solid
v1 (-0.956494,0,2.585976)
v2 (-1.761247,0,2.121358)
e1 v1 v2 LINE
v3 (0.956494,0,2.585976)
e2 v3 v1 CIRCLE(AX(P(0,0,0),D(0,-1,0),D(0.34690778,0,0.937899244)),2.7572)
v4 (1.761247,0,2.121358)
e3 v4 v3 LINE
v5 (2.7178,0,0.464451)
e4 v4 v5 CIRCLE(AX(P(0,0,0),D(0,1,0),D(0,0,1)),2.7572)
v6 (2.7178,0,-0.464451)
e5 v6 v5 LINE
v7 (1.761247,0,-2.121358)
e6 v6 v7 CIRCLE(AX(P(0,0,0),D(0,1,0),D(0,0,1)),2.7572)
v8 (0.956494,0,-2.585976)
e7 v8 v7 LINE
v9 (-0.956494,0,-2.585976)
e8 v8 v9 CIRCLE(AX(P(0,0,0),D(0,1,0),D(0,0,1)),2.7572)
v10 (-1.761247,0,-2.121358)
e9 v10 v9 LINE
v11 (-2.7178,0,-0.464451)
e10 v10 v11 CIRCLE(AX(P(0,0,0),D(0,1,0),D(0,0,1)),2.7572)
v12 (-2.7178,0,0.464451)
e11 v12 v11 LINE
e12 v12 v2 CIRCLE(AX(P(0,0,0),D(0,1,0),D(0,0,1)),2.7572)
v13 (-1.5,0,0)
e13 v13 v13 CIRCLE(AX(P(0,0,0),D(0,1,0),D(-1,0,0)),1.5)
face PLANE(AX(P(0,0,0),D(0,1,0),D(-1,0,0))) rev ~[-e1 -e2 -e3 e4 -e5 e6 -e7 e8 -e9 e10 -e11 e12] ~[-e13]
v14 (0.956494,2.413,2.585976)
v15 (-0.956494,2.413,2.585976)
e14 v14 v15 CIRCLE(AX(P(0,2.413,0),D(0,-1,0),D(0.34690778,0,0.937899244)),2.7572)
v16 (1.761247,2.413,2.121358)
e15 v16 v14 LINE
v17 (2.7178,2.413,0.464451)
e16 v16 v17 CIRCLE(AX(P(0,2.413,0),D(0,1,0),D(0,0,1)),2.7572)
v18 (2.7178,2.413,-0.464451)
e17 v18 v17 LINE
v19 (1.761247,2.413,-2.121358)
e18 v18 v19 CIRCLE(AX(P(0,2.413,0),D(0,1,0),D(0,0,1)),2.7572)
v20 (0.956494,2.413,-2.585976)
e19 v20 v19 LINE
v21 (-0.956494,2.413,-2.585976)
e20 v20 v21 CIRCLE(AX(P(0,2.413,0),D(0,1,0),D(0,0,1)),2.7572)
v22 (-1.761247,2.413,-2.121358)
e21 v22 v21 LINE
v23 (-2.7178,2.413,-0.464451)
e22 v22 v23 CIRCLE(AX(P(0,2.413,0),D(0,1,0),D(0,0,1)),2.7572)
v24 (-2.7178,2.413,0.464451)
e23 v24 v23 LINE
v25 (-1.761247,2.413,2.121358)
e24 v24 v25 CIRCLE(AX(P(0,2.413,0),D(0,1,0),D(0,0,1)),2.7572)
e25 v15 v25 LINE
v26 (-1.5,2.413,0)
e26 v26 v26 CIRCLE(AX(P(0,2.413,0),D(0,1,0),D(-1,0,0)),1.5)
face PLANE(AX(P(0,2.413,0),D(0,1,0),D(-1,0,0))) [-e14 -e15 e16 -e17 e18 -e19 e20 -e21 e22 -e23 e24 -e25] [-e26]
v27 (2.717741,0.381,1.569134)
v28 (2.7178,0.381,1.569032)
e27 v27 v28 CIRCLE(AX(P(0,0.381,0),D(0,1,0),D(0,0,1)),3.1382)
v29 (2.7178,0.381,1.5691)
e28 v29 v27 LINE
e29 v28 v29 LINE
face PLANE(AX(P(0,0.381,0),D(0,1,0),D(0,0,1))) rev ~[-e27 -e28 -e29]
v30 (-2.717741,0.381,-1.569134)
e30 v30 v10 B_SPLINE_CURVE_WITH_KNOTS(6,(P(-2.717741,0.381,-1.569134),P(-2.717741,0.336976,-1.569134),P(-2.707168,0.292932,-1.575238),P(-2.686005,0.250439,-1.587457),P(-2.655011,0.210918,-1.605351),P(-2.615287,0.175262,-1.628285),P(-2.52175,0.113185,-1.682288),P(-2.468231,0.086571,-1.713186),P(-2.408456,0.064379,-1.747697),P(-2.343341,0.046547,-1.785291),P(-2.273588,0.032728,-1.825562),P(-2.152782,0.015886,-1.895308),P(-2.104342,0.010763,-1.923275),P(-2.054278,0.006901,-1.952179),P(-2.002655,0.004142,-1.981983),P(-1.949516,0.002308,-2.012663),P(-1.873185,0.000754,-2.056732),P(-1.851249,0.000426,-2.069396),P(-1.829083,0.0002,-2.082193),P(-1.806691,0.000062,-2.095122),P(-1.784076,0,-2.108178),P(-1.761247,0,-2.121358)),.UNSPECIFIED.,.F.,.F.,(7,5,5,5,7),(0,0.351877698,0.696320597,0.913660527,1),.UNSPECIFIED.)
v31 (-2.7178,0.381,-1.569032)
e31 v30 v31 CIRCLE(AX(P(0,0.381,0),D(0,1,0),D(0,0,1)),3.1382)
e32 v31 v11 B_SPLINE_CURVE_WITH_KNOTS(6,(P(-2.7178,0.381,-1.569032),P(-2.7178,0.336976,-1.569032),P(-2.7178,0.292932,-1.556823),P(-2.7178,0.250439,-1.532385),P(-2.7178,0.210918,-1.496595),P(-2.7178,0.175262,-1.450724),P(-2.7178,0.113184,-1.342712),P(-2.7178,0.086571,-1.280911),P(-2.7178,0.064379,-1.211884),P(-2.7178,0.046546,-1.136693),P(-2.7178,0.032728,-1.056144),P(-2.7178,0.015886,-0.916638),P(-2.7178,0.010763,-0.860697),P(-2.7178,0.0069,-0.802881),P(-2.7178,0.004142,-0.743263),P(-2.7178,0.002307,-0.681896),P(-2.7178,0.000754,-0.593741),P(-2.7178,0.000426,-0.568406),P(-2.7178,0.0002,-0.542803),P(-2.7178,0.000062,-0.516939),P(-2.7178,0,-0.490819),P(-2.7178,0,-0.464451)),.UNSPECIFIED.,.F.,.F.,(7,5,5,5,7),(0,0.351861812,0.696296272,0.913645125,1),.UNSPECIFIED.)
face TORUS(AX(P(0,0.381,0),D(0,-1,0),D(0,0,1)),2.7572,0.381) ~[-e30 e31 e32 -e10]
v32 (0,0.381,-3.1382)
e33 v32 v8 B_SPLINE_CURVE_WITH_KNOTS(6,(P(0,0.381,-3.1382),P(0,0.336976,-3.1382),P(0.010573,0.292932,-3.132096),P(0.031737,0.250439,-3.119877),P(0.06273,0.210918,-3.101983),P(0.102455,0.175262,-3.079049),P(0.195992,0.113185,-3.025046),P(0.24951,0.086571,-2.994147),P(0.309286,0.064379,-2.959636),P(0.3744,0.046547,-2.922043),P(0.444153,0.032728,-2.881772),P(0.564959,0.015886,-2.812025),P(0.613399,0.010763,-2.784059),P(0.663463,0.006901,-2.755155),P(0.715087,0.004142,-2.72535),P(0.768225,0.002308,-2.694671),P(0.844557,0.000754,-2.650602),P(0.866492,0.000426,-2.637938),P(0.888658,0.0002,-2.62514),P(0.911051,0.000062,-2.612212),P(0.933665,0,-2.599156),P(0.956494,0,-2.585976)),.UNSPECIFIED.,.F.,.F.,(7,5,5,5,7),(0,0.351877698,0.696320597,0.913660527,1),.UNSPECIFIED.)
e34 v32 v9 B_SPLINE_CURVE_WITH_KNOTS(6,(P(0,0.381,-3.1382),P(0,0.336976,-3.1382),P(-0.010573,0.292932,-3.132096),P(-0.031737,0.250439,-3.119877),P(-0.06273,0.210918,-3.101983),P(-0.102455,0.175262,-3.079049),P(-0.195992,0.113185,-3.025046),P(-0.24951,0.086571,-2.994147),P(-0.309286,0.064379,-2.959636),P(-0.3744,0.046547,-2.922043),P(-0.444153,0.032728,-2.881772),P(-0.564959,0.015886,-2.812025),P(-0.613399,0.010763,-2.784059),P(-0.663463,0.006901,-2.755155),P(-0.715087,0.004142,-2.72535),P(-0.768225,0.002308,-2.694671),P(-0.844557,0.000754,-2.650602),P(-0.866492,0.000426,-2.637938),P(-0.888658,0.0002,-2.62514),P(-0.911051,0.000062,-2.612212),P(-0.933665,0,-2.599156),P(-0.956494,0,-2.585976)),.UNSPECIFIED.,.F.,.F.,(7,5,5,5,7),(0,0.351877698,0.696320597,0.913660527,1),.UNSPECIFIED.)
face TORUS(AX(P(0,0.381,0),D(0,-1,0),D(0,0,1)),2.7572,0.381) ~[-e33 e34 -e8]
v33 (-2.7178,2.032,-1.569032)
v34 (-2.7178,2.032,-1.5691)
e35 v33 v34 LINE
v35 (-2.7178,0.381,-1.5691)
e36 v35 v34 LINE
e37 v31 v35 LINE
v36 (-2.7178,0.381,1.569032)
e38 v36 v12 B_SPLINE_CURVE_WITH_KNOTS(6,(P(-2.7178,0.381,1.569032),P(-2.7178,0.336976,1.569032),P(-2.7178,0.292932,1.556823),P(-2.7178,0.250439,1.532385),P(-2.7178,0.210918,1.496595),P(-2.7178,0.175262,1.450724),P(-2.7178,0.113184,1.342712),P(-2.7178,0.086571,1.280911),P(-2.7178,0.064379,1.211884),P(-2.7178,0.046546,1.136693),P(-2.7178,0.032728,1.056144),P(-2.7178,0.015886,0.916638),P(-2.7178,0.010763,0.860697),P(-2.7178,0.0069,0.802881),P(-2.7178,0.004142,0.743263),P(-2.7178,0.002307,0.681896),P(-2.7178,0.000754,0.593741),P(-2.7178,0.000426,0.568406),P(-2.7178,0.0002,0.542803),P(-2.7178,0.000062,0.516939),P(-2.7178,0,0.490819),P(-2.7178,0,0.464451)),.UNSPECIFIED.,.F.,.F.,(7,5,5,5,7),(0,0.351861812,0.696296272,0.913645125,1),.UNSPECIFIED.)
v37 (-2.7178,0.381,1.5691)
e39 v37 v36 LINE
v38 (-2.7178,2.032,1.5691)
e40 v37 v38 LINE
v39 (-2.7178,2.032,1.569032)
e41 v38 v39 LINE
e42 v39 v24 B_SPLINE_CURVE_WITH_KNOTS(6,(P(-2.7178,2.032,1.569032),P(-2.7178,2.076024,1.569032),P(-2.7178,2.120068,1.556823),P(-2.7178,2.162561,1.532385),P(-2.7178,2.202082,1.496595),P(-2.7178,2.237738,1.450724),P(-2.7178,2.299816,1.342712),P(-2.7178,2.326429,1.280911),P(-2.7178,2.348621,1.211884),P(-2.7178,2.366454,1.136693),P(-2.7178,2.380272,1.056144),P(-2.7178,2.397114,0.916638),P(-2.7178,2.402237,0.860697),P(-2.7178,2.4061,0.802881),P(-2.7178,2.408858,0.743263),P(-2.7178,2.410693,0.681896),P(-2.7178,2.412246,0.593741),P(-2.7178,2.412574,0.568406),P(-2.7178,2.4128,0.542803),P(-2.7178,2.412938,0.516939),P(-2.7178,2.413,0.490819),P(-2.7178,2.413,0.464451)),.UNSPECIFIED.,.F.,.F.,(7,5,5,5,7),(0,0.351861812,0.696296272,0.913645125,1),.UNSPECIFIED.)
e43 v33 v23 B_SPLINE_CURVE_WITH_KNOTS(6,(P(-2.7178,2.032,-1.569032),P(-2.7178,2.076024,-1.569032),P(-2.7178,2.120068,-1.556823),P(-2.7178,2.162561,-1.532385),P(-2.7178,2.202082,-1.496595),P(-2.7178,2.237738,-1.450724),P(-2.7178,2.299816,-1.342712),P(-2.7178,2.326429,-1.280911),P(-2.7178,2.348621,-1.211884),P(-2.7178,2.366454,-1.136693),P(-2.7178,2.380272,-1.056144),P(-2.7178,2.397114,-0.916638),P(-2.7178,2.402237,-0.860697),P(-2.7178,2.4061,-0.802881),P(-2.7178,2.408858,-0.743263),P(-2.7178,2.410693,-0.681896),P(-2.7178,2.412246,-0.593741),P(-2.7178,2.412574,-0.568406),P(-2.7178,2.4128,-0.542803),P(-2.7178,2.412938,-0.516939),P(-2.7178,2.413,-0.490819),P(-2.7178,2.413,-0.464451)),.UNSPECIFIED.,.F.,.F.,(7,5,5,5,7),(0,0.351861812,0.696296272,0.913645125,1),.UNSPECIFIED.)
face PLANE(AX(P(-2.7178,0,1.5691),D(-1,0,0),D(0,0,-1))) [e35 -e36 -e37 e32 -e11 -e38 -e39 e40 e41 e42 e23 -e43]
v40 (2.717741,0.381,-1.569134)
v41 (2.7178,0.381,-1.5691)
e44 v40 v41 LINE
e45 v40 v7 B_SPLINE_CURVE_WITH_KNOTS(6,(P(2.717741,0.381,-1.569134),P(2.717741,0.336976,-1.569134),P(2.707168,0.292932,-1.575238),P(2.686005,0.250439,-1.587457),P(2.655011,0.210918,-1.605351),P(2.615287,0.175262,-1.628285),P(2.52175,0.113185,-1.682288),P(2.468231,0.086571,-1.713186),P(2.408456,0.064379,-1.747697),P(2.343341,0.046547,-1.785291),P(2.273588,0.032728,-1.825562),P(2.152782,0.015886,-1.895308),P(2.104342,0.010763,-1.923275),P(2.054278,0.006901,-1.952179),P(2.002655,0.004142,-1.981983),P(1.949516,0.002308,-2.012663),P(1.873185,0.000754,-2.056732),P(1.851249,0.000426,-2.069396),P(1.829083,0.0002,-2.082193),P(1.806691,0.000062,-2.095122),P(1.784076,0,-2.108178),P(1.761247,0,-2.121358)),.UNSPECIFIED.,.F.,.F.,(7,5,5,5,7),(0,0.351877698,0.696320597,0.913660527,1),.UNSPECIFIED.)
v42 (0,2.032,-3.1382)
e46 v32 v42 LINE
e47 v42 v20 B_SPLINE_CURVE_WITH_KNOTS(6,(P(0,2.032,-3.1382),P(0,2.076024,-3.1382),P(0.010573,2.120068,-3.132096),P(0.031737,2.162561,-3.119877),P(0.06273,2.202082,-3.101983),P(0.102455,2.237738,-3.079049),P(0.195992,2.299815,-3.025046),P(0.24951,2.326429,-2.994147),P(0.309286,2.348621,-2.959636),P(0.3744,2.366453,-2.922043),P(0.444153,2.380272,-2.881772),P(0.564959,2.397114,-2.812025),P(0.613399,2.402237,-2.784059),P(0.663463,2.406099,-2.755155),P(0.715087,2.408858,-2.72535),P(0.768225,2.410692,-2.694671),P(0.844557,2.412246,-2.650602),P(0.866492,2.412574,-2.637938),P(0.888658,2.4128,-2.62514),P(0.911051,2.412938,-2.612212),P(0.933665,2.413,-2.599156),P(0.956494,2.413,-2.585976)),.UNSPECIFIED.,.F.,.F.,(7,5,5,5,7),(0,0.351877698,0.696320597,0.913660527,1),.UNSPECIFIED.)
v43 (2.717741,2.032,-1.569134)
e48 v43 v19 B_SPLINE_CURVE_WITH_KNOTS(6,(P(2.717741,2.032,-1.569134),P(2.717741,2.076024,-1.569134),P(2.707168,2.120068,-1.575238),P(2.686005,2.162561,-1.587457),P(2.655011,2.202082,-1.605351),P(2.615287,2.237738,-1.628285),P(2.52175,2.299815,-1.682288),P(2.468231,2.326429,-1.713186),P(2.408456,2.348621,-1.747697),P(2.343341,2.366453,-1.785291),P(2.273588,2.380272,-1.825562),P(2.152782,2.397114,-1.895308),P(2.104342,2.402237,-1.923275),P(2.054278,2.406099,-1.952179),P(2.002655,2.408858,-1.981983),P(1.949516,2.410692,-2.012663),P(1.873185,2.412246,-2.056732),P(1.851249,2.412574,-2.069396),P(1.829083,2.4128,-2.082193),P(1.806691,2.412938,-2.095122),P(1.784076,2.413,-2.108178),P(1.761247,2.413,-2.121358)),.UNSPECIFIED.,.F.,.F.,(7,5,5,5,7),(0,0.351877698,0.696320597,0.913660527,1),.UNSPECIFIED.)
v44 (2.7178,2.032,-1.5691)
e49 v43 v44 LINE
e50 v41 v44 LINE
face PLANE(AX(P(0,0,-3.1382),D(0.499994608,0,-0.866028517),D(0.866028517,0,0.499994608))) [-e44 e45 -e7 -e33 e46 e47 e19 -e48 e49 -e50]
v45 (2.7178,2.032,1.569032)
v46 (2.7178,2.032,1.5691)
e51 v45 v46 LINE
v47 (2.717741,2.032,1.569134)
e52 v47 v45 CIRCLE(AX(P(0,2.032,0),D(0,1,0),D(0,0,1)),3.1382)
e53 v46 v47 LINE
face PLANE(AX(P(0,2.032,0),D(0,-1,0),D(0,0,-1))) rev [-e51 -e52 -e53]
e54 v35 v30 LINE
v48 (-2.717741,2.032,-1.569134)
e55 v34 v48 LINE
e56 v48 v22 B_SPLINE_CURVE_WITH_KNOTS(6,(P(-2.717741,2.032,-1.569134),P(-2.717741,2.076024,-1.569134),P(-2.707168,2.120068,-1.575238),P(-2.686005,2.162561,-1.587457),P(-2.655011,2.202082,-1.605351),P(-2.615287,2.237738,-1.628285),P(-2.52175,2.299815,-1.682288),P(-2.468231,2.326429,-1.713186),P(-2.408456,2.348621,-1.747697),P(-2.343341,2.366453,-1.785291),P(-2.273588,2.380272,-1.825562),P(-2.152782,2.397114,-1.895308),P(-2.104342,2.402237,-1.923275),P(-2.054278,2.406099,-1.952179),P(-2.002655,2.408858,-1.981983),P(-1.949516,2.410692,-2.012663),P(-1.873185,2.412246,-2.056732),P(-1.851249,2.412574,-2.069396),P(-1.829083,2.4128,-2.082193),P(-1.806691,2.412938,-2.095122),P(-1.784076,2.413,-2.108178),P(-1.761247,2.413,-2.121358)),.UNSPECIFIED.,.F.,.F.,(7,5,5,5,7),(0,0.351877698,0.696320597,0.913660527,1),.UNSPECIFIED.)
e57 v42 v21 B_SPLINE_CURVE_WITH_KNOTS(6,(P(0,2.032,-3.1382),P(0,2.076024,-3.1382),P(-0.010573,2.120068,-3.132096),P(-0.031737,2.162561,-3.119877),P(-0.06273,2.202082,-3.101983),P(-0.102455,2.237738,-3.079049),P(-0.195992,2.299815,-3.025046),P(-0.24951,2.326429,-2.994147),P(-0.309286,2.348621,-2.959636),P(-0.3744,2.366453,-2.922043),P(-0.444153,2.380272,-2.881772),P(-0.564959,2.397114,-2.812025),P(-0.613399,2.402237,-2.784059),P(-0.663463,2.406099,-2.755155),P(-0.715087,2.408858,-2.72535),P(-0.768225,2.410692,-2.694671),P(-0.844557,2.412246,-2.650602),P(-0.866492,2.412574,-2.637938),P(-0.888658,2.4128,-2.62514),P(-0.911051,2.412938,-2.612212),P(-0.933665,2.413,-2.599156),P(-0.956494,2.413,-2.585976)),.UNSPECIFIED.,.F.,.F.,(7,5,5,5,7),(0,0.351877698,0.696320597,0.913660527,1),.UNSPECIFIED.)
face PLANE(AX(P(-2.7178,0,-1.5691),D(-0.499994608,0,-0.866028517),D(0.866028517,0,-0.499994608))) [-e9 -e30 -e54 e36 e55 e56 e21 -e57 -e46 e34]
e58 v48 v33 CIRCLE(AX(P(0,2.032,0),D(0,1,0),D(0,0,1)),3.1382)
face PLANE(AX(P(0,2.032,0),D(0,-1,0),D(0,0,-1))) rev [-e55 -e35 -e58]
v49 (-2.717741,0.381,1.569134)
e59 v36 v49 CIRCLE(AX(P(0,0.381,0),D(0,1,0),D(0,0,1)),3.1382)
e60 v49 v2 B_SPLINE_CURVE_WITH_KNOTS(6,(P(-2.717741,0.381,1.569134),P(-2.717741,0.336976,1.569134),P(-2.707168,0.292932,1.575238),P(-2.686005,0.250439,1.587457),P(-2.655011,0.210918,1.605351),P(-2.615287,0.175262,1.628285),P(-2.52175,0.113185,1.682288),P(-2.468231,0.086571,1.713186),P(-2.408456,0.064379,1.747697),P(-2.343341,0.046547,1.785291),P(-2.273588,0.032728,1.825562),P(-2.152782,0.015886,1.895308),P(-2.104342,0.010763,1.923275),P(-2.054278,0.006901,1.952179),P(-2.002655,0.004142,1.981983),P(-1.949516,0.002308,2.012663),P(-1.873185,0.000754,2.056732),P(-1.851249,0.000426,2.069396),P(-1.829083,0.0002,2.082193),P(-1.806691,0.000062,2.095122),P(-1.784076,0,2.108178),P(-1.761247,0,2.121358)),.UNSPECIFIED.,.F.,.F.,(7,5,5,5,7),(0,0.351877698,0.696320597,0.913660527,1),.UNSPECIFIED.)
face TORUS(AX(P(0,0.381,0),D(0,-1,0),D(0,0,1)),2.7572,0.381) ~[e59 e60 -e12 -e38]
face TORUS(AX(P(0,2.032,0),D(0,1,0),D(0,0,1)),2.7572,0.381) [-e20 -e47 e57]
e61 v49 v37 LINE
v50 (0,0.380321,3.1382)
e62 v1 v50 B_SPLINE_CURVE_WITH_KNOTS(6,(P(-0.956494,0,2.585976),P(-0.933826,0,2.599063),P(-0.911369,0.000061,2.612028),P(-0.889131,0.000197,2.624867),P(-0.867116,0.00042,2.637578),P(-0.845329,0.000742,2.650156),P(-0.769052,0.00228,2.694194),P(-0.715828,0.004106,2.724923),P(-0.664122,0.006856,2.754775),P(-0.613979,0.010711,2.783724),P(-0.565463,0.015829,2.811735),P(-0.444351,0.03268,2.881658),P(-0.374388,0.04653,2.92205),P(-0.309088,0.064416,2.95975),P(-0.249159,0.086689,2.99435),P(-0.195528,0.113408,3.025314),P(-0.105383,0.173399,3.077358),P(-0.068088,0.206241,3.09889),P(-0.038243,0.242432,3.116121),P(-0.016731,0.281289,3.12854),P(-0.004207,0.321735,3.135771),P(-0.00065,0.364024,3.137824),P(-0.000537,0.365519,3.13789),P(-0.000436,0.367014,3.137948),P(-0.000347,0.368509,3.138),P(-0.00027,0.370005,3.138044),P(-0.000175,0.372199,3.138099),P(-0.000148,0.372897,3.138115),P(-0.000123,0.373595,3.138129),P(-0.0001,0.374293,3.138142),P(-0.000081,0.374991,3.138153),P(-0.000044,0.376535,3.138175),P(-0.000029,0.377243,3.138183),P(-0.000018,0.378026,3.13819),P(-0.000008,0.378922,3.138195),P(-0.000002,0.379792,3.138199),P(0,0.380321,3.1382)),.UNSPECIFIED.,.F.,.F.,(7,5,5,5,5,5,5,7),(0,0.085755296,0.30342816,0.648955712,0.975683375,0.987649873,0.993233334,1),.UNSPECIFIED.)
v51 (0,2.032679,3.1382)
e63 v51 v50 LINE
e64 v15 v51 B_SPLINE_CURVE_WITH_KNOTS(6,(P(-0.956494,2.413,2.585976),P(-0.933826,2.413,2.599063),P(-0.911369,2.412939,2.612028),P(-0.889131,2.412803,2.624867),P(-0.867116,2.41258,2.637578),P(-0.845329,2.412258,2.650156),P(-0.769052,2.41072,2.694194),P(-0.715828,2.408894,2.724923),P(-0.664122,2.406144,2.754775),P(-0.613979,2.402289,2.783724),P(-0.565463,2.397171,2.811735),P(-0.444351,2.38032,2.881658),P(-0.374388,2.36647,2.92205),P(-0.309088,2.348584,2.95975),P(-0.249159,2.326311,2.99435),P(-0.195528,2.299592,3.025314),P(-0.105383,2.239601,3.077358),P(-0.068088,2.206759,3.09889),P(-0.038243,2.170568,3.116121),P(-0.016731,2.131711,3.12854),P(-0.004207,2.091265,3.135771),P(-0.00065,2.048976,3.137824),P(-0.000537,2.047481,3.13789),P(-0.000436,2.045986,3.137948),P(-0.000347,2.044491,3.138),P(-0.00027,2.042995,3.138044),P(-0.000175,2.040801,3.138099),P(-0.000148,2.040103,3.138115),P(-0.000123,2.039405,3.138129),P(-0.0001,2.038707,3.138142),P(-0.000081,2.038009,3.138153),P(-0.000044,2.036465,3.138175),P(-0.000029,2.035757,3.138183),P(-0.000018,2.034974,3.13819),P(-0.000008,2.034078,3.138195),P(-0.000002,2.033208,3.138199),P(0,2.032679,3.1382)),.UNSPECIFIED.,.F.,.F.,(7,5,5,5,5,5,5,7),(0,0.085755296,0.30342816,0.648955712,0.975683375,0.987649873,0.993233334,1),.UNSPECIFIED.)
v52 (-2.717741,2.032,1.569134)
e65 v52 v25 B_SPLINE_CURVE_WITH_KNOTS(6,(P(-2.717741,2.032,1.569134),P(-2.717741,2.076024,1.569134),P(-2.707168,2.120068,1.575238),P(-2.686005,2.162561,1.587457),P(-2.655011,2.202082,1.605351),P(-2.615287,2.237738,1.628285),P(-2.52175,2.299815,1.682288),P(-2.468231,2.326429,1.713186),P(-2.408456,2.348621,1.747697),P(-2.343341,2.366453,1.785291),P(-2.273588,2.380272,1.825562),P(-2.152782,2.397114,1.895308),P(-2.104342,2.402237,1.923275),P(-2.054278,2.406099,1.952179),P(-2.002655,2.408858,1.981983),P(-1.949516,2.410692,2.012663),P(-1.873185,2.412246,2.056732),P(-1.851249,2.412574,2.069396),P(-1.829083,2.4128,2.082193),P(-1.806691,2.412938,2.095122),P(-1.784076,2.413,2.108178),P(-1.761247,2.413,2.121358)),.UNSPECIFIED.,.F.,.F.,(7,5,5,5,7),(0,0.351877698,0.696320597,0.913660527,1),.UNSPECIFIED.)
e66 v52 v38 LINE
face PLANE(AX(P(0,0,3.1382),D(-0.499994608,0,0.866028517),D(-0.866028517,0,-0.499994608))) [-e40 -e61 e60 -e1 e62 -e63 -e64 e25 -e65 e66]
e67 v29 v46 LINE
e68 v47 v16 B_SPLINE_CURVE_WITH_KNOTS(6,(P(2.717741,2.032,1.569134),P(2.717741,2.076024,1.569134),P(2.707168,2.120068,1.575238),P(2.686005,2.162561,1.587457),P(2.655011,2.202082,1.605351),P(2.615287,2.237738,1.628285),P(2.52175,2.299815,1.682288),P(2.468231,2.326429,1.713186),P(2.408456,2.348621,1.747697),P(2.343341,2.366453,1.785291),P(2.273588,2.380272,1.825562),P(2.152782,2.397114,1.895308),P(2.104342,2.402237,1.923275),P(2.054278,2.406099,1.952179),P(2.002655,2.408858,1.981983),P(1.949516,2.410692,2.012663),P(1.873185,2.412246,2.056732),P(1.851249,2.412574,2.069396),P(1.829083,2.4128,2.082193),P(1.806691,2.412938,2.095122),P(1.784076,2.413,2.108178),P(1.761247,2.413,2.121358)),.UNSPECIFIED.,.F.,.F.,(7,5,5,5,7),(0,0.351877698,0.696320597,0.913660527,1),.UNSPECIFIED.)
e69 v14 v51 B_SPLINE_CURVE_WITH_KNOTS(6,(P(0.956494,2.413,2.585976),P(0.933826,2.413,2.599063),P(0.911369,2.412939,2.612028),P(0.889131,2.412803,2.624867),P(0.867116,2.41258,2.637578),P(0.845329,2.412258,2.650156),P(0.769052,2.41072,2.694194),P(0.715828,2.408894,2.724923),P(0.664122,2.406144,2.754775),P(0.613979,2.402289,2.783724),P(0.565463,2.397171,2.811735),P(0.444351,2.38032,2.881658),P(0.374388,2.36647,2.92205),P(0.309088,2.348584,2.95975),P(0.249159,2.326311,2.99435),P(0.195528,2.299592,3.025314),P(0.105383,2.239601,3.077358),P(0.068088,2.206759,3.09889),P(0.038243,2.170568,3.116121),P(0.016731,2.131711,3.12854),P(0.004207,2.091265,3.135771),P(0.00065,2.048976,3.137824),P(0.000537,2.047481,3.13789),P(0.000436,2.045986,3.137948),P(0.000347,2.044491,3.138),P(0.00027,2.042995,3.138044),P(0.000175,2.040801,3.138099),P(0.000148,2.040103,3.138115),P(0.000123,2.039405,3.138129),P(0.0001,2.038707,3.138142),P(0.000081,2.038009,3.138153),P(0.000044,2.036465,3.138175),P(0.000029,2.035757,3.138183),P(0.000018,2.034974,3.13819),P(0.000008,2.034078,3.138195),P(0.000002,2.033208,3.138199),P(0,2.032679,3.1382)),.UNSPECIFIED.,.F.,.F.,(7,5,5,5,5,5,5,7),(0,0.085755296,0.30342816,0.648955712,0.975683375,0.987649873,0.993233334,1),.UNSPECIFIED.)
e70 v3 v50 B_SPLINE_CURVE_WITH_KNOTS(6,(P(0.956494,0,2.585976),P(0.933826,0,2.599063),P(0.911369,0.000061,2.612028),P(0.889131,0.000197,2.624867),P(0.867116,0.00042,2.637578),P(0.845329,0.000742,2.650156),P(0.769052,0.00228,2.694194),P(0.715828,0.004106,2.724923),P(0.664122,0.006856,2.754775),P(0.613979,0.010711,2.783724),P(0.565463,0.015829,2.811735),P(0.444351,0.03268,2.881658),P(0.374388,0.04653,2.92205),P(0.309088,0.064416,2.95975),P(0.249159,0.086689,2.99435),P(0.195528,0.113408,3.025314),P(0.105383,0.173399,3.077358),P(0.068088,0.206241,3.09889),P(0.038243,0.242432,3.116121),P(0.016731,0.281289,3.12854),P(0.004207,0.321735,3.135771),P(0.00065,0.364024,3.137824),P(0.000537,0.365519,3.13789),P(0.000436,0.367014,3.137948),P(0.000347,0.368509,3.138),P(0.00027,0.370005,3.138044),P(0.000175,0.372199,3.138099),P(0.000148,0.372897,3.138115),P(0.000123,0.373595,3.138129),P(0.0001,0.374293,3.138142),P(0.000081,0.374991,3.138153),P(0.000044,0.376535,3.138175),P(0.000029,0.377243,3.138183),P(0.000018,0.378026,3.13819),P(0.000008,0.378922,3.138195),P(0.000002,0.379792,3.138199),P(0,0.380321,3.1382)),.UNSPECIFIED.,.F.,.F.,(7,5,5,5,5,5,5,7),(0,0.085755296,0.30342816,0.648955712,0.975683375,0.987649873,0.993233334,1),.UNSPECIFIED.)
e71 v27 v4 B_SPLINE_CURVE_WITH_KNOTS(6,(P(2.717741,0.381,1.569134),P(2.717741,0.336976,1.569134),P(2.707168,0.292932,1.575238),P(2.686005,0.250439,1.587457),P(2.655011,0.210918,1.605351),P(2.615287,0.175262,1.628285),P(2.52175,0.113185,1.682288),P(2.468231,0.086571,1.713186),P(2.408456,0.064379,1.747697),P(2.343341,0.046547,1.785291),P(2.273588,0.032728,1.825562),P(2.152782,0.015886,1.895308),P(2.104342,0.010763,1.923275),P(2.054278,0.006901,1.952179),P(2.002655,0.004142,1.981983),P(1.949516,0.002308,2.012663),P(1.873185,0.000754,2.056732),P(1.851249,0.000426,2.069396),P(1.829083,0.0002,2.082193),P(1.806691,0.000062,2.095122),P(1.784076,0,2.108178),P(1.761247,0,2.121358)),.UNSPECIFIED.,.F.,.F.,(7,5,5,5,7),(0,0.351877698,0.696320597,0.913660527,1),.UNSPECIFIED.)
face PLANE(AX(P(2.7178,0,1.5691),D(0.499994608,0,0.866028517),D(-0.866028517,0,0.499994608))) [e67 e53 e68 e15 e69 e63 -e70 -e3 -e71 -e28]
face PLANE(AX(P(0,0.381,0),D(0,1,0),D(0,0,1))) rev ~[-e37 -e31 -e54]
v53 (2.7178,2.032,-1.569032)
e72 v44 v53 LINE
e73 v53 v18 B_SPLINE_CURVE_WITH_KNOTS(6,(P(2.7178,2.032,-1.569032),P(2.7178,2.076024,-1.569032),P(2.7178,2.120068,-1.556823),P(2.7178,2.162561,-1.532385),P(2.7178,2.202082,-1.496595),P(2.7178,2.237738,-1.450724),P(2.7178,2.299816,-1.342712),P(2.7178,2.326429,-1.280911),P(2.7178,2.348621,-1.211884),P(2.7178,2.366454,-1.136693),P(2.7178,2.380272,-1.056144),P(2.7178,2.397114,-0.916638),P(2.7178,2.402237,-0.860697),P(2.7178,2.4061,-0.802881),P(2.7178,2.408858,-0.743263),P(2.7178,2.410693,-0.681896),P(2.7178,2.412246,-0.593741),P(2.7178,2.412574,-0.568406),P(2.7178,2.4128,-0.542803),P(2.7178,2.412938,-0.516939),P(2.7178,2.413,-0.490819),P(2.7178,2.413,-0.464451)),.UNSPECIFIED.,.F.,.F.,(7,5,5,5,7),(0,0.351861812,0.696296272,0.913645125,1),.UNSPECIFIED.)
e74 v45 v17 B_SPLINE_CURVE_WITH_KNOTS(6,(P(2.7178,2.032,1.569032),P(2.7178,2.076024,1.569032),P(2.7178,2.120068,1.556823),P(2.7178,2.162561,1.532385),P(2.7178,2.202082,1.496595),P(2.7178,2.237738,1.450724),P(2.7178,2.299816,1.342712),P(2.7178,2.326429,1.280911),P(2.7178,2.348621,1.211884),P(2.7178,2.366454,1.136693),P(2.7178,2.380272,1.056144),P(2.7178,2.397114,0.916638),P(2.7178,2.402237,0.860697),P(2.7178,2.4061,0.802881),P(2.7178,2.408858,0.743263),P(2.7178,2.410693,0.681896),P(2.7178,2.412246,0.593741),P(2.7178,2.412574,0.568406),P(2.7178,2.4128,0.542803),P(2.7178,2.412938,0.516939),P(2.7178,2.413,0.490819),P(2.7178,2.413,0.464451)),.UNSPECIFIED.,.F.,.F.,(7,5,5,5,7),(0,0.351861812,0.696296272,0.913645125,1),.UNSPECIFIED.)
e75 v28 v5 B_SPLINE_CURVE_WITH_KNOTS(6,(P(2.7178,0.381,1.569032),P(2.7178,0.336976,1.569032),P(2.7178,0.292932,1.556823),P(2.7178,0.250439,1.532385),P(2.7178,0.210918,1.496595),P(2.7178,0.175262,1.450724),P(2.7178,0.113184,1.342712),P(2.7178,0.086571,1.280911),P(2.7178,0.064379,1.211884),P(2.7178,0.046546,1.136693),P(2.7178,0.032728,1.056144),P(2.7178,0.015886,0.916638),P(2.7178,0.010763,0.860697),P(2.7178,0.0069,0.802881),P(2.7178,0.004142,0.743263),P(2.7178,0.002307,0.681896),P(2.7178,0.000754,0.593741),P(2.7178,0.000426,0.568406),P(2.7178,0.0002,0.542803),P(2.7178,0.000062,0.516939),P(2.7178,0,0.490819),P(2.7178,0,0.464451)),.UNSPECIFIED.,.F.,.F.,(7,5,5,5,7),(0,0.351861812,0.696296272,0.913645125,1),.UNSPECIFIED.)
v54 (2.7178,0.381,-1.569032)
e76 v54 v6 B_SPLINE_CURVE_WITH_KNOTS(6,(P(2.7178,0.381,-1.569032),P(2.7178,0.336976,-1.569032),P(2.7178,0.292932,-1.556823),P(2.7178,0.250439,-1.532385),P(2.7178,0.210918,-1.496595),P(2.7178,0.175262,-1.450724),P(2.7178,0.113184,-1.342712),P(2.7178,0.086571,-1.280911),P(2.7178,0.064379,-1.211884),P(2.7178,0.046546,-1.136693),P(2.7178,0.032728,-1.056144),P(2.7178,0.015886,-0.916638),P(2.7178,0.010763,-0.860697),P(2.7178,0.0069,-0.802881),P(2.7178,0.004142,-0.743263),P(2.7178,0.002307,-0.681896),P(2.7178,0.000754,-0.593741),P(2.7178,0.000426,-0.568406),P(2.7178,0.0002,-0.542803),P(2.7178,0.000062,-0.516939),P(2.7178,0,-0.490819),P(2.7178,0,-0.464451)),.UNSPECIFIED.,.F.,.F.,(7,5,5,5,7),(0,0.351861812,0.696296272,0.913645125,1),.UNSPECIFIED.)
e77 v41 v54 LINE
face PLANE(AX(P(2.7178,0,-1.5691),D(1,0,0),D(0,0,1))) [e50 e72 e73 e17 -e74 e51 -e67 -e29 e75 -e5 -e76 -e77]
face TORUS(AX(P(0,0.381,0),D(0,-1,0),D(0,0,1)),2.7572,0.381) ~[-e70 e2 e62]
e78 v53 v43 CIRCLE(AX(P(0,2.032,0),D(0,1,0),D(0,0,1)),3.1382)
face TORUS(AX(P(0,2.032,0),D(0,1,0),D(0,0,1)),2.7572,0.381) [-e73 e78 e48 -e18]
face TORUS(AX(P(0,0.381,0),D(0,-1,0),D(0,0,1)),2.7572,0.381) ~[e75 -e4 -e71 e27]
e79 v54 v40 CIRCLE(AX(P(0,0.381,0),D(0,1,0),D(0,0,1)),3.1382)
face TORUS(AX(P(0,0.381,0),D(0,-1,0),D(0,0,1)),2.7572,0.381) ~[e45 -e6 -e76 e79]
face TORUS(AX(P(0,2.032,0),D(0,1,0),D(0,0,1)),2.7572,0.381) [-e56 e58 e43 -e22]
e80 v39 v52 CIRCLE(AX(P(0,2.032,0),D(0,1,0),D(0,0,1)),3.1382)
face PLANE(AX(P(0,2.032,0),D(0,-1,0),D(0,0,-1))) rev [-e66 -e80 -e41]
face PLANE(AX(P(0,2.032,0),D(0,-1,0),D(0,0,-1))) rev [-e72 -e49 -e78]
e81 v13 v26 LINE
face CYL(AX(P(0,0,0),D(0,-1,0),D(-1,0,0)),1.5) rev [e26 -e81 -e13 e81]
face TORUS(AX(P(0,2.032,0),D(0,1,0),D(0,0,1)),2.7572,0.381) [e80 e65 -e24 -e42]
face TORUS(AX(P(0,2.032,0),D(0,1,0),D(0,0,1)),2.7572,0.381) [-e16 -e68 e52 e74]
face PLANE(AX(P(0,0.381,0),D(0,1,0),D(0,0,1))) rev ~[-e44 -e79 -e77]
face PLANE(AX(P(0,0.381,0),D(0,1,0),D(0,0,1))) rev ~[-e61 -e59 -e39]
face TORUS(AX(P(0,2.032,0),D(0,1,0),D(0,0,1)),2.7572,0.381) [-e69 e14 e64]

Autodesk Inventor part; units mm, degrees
ref_plane "YZ Plane" through (0, 0, 0) normal (1, 0, 0) x (0, 1, 0)
ref_plane "XZ Plane" through (0, 0, 0) normal (0, 1, 0) x (-1, 0, 0)
sketch "Sketch1" plane through (0, 0, 0) normal (0, 1, 0) x (-1, 0, 0)
  line L0 (-2.7178, 1.5691) -> (0, 3.1382)
  line L1 (0, 3.1382) -> (2.7178, 1.5691)
  line L2 (2.7178, 1.5691) -> (2.7178, -1.5691)
  line L3 (2.7178, -1.5691) -> (0, -3.1382)
  line L4 (0, -3.1382) -> (-2.7178, -1.5691)
  line L5 (-2.7178, -1.5691) -> (-2.7178, 1.5691)
  circle A0 centre (0, 0) radius 1.5
  dimension "d1" = 3
extrude "Extrusion1" add sketch "Sketch1" along normal blind 2.413
thread "Thread1" size "M3x0.5" class "6H" standard "ANSI Metric M Profile" full length
sketch "Sketch3" plane through (0, 0, 0) normal (1, 0, 0) x (0, 1, 0)
  line L0 (0, 3.1382) -> (2.413, 3.1382) projected
  line L1 (0, 1.5691) -> (0, 3.1382) projected
  line L2 (0, 1.5691) -> (0, 2.7572)
  line L3 (0.381, 3.1382) -> (2.413, 3.1382)
  arc A0 (0.381, 3.1382) -> (0, 2.7572) centre (0.381, 2.7572) ccw
  line L4 (0, 2.7572) -> (-0.2163, 2.7572)
  line L5 (-0.2163, 2.7572) -> (-0.2163, 4.3172)
  line L6 (-0.2163, 4.3172) -> (0.381, 4.3172)
  line L7 (0.381, 4.3172) -> (0.381, 3.1382)
  line L8 (-0.7421, 0) -> (2.9389, 0) projected
  point P0 (0, 0)
  dimension "d8" = 0.381
ref_plane "Work Plane1" through (0, 1.2065, 3.1382) normal (0, 1, 0) x (0.866, 0, -0.5)
revolve "Revolution2" cut sketch "Sketch3" angle 360 about axis through (0, -10, 0) along (0, 1, 0)
mirror "Mirror1" about plane through (0, 1.2065, 3.1382) normal (0, 1, 0) of "Revolution2"
properties part number "M3 nut"
